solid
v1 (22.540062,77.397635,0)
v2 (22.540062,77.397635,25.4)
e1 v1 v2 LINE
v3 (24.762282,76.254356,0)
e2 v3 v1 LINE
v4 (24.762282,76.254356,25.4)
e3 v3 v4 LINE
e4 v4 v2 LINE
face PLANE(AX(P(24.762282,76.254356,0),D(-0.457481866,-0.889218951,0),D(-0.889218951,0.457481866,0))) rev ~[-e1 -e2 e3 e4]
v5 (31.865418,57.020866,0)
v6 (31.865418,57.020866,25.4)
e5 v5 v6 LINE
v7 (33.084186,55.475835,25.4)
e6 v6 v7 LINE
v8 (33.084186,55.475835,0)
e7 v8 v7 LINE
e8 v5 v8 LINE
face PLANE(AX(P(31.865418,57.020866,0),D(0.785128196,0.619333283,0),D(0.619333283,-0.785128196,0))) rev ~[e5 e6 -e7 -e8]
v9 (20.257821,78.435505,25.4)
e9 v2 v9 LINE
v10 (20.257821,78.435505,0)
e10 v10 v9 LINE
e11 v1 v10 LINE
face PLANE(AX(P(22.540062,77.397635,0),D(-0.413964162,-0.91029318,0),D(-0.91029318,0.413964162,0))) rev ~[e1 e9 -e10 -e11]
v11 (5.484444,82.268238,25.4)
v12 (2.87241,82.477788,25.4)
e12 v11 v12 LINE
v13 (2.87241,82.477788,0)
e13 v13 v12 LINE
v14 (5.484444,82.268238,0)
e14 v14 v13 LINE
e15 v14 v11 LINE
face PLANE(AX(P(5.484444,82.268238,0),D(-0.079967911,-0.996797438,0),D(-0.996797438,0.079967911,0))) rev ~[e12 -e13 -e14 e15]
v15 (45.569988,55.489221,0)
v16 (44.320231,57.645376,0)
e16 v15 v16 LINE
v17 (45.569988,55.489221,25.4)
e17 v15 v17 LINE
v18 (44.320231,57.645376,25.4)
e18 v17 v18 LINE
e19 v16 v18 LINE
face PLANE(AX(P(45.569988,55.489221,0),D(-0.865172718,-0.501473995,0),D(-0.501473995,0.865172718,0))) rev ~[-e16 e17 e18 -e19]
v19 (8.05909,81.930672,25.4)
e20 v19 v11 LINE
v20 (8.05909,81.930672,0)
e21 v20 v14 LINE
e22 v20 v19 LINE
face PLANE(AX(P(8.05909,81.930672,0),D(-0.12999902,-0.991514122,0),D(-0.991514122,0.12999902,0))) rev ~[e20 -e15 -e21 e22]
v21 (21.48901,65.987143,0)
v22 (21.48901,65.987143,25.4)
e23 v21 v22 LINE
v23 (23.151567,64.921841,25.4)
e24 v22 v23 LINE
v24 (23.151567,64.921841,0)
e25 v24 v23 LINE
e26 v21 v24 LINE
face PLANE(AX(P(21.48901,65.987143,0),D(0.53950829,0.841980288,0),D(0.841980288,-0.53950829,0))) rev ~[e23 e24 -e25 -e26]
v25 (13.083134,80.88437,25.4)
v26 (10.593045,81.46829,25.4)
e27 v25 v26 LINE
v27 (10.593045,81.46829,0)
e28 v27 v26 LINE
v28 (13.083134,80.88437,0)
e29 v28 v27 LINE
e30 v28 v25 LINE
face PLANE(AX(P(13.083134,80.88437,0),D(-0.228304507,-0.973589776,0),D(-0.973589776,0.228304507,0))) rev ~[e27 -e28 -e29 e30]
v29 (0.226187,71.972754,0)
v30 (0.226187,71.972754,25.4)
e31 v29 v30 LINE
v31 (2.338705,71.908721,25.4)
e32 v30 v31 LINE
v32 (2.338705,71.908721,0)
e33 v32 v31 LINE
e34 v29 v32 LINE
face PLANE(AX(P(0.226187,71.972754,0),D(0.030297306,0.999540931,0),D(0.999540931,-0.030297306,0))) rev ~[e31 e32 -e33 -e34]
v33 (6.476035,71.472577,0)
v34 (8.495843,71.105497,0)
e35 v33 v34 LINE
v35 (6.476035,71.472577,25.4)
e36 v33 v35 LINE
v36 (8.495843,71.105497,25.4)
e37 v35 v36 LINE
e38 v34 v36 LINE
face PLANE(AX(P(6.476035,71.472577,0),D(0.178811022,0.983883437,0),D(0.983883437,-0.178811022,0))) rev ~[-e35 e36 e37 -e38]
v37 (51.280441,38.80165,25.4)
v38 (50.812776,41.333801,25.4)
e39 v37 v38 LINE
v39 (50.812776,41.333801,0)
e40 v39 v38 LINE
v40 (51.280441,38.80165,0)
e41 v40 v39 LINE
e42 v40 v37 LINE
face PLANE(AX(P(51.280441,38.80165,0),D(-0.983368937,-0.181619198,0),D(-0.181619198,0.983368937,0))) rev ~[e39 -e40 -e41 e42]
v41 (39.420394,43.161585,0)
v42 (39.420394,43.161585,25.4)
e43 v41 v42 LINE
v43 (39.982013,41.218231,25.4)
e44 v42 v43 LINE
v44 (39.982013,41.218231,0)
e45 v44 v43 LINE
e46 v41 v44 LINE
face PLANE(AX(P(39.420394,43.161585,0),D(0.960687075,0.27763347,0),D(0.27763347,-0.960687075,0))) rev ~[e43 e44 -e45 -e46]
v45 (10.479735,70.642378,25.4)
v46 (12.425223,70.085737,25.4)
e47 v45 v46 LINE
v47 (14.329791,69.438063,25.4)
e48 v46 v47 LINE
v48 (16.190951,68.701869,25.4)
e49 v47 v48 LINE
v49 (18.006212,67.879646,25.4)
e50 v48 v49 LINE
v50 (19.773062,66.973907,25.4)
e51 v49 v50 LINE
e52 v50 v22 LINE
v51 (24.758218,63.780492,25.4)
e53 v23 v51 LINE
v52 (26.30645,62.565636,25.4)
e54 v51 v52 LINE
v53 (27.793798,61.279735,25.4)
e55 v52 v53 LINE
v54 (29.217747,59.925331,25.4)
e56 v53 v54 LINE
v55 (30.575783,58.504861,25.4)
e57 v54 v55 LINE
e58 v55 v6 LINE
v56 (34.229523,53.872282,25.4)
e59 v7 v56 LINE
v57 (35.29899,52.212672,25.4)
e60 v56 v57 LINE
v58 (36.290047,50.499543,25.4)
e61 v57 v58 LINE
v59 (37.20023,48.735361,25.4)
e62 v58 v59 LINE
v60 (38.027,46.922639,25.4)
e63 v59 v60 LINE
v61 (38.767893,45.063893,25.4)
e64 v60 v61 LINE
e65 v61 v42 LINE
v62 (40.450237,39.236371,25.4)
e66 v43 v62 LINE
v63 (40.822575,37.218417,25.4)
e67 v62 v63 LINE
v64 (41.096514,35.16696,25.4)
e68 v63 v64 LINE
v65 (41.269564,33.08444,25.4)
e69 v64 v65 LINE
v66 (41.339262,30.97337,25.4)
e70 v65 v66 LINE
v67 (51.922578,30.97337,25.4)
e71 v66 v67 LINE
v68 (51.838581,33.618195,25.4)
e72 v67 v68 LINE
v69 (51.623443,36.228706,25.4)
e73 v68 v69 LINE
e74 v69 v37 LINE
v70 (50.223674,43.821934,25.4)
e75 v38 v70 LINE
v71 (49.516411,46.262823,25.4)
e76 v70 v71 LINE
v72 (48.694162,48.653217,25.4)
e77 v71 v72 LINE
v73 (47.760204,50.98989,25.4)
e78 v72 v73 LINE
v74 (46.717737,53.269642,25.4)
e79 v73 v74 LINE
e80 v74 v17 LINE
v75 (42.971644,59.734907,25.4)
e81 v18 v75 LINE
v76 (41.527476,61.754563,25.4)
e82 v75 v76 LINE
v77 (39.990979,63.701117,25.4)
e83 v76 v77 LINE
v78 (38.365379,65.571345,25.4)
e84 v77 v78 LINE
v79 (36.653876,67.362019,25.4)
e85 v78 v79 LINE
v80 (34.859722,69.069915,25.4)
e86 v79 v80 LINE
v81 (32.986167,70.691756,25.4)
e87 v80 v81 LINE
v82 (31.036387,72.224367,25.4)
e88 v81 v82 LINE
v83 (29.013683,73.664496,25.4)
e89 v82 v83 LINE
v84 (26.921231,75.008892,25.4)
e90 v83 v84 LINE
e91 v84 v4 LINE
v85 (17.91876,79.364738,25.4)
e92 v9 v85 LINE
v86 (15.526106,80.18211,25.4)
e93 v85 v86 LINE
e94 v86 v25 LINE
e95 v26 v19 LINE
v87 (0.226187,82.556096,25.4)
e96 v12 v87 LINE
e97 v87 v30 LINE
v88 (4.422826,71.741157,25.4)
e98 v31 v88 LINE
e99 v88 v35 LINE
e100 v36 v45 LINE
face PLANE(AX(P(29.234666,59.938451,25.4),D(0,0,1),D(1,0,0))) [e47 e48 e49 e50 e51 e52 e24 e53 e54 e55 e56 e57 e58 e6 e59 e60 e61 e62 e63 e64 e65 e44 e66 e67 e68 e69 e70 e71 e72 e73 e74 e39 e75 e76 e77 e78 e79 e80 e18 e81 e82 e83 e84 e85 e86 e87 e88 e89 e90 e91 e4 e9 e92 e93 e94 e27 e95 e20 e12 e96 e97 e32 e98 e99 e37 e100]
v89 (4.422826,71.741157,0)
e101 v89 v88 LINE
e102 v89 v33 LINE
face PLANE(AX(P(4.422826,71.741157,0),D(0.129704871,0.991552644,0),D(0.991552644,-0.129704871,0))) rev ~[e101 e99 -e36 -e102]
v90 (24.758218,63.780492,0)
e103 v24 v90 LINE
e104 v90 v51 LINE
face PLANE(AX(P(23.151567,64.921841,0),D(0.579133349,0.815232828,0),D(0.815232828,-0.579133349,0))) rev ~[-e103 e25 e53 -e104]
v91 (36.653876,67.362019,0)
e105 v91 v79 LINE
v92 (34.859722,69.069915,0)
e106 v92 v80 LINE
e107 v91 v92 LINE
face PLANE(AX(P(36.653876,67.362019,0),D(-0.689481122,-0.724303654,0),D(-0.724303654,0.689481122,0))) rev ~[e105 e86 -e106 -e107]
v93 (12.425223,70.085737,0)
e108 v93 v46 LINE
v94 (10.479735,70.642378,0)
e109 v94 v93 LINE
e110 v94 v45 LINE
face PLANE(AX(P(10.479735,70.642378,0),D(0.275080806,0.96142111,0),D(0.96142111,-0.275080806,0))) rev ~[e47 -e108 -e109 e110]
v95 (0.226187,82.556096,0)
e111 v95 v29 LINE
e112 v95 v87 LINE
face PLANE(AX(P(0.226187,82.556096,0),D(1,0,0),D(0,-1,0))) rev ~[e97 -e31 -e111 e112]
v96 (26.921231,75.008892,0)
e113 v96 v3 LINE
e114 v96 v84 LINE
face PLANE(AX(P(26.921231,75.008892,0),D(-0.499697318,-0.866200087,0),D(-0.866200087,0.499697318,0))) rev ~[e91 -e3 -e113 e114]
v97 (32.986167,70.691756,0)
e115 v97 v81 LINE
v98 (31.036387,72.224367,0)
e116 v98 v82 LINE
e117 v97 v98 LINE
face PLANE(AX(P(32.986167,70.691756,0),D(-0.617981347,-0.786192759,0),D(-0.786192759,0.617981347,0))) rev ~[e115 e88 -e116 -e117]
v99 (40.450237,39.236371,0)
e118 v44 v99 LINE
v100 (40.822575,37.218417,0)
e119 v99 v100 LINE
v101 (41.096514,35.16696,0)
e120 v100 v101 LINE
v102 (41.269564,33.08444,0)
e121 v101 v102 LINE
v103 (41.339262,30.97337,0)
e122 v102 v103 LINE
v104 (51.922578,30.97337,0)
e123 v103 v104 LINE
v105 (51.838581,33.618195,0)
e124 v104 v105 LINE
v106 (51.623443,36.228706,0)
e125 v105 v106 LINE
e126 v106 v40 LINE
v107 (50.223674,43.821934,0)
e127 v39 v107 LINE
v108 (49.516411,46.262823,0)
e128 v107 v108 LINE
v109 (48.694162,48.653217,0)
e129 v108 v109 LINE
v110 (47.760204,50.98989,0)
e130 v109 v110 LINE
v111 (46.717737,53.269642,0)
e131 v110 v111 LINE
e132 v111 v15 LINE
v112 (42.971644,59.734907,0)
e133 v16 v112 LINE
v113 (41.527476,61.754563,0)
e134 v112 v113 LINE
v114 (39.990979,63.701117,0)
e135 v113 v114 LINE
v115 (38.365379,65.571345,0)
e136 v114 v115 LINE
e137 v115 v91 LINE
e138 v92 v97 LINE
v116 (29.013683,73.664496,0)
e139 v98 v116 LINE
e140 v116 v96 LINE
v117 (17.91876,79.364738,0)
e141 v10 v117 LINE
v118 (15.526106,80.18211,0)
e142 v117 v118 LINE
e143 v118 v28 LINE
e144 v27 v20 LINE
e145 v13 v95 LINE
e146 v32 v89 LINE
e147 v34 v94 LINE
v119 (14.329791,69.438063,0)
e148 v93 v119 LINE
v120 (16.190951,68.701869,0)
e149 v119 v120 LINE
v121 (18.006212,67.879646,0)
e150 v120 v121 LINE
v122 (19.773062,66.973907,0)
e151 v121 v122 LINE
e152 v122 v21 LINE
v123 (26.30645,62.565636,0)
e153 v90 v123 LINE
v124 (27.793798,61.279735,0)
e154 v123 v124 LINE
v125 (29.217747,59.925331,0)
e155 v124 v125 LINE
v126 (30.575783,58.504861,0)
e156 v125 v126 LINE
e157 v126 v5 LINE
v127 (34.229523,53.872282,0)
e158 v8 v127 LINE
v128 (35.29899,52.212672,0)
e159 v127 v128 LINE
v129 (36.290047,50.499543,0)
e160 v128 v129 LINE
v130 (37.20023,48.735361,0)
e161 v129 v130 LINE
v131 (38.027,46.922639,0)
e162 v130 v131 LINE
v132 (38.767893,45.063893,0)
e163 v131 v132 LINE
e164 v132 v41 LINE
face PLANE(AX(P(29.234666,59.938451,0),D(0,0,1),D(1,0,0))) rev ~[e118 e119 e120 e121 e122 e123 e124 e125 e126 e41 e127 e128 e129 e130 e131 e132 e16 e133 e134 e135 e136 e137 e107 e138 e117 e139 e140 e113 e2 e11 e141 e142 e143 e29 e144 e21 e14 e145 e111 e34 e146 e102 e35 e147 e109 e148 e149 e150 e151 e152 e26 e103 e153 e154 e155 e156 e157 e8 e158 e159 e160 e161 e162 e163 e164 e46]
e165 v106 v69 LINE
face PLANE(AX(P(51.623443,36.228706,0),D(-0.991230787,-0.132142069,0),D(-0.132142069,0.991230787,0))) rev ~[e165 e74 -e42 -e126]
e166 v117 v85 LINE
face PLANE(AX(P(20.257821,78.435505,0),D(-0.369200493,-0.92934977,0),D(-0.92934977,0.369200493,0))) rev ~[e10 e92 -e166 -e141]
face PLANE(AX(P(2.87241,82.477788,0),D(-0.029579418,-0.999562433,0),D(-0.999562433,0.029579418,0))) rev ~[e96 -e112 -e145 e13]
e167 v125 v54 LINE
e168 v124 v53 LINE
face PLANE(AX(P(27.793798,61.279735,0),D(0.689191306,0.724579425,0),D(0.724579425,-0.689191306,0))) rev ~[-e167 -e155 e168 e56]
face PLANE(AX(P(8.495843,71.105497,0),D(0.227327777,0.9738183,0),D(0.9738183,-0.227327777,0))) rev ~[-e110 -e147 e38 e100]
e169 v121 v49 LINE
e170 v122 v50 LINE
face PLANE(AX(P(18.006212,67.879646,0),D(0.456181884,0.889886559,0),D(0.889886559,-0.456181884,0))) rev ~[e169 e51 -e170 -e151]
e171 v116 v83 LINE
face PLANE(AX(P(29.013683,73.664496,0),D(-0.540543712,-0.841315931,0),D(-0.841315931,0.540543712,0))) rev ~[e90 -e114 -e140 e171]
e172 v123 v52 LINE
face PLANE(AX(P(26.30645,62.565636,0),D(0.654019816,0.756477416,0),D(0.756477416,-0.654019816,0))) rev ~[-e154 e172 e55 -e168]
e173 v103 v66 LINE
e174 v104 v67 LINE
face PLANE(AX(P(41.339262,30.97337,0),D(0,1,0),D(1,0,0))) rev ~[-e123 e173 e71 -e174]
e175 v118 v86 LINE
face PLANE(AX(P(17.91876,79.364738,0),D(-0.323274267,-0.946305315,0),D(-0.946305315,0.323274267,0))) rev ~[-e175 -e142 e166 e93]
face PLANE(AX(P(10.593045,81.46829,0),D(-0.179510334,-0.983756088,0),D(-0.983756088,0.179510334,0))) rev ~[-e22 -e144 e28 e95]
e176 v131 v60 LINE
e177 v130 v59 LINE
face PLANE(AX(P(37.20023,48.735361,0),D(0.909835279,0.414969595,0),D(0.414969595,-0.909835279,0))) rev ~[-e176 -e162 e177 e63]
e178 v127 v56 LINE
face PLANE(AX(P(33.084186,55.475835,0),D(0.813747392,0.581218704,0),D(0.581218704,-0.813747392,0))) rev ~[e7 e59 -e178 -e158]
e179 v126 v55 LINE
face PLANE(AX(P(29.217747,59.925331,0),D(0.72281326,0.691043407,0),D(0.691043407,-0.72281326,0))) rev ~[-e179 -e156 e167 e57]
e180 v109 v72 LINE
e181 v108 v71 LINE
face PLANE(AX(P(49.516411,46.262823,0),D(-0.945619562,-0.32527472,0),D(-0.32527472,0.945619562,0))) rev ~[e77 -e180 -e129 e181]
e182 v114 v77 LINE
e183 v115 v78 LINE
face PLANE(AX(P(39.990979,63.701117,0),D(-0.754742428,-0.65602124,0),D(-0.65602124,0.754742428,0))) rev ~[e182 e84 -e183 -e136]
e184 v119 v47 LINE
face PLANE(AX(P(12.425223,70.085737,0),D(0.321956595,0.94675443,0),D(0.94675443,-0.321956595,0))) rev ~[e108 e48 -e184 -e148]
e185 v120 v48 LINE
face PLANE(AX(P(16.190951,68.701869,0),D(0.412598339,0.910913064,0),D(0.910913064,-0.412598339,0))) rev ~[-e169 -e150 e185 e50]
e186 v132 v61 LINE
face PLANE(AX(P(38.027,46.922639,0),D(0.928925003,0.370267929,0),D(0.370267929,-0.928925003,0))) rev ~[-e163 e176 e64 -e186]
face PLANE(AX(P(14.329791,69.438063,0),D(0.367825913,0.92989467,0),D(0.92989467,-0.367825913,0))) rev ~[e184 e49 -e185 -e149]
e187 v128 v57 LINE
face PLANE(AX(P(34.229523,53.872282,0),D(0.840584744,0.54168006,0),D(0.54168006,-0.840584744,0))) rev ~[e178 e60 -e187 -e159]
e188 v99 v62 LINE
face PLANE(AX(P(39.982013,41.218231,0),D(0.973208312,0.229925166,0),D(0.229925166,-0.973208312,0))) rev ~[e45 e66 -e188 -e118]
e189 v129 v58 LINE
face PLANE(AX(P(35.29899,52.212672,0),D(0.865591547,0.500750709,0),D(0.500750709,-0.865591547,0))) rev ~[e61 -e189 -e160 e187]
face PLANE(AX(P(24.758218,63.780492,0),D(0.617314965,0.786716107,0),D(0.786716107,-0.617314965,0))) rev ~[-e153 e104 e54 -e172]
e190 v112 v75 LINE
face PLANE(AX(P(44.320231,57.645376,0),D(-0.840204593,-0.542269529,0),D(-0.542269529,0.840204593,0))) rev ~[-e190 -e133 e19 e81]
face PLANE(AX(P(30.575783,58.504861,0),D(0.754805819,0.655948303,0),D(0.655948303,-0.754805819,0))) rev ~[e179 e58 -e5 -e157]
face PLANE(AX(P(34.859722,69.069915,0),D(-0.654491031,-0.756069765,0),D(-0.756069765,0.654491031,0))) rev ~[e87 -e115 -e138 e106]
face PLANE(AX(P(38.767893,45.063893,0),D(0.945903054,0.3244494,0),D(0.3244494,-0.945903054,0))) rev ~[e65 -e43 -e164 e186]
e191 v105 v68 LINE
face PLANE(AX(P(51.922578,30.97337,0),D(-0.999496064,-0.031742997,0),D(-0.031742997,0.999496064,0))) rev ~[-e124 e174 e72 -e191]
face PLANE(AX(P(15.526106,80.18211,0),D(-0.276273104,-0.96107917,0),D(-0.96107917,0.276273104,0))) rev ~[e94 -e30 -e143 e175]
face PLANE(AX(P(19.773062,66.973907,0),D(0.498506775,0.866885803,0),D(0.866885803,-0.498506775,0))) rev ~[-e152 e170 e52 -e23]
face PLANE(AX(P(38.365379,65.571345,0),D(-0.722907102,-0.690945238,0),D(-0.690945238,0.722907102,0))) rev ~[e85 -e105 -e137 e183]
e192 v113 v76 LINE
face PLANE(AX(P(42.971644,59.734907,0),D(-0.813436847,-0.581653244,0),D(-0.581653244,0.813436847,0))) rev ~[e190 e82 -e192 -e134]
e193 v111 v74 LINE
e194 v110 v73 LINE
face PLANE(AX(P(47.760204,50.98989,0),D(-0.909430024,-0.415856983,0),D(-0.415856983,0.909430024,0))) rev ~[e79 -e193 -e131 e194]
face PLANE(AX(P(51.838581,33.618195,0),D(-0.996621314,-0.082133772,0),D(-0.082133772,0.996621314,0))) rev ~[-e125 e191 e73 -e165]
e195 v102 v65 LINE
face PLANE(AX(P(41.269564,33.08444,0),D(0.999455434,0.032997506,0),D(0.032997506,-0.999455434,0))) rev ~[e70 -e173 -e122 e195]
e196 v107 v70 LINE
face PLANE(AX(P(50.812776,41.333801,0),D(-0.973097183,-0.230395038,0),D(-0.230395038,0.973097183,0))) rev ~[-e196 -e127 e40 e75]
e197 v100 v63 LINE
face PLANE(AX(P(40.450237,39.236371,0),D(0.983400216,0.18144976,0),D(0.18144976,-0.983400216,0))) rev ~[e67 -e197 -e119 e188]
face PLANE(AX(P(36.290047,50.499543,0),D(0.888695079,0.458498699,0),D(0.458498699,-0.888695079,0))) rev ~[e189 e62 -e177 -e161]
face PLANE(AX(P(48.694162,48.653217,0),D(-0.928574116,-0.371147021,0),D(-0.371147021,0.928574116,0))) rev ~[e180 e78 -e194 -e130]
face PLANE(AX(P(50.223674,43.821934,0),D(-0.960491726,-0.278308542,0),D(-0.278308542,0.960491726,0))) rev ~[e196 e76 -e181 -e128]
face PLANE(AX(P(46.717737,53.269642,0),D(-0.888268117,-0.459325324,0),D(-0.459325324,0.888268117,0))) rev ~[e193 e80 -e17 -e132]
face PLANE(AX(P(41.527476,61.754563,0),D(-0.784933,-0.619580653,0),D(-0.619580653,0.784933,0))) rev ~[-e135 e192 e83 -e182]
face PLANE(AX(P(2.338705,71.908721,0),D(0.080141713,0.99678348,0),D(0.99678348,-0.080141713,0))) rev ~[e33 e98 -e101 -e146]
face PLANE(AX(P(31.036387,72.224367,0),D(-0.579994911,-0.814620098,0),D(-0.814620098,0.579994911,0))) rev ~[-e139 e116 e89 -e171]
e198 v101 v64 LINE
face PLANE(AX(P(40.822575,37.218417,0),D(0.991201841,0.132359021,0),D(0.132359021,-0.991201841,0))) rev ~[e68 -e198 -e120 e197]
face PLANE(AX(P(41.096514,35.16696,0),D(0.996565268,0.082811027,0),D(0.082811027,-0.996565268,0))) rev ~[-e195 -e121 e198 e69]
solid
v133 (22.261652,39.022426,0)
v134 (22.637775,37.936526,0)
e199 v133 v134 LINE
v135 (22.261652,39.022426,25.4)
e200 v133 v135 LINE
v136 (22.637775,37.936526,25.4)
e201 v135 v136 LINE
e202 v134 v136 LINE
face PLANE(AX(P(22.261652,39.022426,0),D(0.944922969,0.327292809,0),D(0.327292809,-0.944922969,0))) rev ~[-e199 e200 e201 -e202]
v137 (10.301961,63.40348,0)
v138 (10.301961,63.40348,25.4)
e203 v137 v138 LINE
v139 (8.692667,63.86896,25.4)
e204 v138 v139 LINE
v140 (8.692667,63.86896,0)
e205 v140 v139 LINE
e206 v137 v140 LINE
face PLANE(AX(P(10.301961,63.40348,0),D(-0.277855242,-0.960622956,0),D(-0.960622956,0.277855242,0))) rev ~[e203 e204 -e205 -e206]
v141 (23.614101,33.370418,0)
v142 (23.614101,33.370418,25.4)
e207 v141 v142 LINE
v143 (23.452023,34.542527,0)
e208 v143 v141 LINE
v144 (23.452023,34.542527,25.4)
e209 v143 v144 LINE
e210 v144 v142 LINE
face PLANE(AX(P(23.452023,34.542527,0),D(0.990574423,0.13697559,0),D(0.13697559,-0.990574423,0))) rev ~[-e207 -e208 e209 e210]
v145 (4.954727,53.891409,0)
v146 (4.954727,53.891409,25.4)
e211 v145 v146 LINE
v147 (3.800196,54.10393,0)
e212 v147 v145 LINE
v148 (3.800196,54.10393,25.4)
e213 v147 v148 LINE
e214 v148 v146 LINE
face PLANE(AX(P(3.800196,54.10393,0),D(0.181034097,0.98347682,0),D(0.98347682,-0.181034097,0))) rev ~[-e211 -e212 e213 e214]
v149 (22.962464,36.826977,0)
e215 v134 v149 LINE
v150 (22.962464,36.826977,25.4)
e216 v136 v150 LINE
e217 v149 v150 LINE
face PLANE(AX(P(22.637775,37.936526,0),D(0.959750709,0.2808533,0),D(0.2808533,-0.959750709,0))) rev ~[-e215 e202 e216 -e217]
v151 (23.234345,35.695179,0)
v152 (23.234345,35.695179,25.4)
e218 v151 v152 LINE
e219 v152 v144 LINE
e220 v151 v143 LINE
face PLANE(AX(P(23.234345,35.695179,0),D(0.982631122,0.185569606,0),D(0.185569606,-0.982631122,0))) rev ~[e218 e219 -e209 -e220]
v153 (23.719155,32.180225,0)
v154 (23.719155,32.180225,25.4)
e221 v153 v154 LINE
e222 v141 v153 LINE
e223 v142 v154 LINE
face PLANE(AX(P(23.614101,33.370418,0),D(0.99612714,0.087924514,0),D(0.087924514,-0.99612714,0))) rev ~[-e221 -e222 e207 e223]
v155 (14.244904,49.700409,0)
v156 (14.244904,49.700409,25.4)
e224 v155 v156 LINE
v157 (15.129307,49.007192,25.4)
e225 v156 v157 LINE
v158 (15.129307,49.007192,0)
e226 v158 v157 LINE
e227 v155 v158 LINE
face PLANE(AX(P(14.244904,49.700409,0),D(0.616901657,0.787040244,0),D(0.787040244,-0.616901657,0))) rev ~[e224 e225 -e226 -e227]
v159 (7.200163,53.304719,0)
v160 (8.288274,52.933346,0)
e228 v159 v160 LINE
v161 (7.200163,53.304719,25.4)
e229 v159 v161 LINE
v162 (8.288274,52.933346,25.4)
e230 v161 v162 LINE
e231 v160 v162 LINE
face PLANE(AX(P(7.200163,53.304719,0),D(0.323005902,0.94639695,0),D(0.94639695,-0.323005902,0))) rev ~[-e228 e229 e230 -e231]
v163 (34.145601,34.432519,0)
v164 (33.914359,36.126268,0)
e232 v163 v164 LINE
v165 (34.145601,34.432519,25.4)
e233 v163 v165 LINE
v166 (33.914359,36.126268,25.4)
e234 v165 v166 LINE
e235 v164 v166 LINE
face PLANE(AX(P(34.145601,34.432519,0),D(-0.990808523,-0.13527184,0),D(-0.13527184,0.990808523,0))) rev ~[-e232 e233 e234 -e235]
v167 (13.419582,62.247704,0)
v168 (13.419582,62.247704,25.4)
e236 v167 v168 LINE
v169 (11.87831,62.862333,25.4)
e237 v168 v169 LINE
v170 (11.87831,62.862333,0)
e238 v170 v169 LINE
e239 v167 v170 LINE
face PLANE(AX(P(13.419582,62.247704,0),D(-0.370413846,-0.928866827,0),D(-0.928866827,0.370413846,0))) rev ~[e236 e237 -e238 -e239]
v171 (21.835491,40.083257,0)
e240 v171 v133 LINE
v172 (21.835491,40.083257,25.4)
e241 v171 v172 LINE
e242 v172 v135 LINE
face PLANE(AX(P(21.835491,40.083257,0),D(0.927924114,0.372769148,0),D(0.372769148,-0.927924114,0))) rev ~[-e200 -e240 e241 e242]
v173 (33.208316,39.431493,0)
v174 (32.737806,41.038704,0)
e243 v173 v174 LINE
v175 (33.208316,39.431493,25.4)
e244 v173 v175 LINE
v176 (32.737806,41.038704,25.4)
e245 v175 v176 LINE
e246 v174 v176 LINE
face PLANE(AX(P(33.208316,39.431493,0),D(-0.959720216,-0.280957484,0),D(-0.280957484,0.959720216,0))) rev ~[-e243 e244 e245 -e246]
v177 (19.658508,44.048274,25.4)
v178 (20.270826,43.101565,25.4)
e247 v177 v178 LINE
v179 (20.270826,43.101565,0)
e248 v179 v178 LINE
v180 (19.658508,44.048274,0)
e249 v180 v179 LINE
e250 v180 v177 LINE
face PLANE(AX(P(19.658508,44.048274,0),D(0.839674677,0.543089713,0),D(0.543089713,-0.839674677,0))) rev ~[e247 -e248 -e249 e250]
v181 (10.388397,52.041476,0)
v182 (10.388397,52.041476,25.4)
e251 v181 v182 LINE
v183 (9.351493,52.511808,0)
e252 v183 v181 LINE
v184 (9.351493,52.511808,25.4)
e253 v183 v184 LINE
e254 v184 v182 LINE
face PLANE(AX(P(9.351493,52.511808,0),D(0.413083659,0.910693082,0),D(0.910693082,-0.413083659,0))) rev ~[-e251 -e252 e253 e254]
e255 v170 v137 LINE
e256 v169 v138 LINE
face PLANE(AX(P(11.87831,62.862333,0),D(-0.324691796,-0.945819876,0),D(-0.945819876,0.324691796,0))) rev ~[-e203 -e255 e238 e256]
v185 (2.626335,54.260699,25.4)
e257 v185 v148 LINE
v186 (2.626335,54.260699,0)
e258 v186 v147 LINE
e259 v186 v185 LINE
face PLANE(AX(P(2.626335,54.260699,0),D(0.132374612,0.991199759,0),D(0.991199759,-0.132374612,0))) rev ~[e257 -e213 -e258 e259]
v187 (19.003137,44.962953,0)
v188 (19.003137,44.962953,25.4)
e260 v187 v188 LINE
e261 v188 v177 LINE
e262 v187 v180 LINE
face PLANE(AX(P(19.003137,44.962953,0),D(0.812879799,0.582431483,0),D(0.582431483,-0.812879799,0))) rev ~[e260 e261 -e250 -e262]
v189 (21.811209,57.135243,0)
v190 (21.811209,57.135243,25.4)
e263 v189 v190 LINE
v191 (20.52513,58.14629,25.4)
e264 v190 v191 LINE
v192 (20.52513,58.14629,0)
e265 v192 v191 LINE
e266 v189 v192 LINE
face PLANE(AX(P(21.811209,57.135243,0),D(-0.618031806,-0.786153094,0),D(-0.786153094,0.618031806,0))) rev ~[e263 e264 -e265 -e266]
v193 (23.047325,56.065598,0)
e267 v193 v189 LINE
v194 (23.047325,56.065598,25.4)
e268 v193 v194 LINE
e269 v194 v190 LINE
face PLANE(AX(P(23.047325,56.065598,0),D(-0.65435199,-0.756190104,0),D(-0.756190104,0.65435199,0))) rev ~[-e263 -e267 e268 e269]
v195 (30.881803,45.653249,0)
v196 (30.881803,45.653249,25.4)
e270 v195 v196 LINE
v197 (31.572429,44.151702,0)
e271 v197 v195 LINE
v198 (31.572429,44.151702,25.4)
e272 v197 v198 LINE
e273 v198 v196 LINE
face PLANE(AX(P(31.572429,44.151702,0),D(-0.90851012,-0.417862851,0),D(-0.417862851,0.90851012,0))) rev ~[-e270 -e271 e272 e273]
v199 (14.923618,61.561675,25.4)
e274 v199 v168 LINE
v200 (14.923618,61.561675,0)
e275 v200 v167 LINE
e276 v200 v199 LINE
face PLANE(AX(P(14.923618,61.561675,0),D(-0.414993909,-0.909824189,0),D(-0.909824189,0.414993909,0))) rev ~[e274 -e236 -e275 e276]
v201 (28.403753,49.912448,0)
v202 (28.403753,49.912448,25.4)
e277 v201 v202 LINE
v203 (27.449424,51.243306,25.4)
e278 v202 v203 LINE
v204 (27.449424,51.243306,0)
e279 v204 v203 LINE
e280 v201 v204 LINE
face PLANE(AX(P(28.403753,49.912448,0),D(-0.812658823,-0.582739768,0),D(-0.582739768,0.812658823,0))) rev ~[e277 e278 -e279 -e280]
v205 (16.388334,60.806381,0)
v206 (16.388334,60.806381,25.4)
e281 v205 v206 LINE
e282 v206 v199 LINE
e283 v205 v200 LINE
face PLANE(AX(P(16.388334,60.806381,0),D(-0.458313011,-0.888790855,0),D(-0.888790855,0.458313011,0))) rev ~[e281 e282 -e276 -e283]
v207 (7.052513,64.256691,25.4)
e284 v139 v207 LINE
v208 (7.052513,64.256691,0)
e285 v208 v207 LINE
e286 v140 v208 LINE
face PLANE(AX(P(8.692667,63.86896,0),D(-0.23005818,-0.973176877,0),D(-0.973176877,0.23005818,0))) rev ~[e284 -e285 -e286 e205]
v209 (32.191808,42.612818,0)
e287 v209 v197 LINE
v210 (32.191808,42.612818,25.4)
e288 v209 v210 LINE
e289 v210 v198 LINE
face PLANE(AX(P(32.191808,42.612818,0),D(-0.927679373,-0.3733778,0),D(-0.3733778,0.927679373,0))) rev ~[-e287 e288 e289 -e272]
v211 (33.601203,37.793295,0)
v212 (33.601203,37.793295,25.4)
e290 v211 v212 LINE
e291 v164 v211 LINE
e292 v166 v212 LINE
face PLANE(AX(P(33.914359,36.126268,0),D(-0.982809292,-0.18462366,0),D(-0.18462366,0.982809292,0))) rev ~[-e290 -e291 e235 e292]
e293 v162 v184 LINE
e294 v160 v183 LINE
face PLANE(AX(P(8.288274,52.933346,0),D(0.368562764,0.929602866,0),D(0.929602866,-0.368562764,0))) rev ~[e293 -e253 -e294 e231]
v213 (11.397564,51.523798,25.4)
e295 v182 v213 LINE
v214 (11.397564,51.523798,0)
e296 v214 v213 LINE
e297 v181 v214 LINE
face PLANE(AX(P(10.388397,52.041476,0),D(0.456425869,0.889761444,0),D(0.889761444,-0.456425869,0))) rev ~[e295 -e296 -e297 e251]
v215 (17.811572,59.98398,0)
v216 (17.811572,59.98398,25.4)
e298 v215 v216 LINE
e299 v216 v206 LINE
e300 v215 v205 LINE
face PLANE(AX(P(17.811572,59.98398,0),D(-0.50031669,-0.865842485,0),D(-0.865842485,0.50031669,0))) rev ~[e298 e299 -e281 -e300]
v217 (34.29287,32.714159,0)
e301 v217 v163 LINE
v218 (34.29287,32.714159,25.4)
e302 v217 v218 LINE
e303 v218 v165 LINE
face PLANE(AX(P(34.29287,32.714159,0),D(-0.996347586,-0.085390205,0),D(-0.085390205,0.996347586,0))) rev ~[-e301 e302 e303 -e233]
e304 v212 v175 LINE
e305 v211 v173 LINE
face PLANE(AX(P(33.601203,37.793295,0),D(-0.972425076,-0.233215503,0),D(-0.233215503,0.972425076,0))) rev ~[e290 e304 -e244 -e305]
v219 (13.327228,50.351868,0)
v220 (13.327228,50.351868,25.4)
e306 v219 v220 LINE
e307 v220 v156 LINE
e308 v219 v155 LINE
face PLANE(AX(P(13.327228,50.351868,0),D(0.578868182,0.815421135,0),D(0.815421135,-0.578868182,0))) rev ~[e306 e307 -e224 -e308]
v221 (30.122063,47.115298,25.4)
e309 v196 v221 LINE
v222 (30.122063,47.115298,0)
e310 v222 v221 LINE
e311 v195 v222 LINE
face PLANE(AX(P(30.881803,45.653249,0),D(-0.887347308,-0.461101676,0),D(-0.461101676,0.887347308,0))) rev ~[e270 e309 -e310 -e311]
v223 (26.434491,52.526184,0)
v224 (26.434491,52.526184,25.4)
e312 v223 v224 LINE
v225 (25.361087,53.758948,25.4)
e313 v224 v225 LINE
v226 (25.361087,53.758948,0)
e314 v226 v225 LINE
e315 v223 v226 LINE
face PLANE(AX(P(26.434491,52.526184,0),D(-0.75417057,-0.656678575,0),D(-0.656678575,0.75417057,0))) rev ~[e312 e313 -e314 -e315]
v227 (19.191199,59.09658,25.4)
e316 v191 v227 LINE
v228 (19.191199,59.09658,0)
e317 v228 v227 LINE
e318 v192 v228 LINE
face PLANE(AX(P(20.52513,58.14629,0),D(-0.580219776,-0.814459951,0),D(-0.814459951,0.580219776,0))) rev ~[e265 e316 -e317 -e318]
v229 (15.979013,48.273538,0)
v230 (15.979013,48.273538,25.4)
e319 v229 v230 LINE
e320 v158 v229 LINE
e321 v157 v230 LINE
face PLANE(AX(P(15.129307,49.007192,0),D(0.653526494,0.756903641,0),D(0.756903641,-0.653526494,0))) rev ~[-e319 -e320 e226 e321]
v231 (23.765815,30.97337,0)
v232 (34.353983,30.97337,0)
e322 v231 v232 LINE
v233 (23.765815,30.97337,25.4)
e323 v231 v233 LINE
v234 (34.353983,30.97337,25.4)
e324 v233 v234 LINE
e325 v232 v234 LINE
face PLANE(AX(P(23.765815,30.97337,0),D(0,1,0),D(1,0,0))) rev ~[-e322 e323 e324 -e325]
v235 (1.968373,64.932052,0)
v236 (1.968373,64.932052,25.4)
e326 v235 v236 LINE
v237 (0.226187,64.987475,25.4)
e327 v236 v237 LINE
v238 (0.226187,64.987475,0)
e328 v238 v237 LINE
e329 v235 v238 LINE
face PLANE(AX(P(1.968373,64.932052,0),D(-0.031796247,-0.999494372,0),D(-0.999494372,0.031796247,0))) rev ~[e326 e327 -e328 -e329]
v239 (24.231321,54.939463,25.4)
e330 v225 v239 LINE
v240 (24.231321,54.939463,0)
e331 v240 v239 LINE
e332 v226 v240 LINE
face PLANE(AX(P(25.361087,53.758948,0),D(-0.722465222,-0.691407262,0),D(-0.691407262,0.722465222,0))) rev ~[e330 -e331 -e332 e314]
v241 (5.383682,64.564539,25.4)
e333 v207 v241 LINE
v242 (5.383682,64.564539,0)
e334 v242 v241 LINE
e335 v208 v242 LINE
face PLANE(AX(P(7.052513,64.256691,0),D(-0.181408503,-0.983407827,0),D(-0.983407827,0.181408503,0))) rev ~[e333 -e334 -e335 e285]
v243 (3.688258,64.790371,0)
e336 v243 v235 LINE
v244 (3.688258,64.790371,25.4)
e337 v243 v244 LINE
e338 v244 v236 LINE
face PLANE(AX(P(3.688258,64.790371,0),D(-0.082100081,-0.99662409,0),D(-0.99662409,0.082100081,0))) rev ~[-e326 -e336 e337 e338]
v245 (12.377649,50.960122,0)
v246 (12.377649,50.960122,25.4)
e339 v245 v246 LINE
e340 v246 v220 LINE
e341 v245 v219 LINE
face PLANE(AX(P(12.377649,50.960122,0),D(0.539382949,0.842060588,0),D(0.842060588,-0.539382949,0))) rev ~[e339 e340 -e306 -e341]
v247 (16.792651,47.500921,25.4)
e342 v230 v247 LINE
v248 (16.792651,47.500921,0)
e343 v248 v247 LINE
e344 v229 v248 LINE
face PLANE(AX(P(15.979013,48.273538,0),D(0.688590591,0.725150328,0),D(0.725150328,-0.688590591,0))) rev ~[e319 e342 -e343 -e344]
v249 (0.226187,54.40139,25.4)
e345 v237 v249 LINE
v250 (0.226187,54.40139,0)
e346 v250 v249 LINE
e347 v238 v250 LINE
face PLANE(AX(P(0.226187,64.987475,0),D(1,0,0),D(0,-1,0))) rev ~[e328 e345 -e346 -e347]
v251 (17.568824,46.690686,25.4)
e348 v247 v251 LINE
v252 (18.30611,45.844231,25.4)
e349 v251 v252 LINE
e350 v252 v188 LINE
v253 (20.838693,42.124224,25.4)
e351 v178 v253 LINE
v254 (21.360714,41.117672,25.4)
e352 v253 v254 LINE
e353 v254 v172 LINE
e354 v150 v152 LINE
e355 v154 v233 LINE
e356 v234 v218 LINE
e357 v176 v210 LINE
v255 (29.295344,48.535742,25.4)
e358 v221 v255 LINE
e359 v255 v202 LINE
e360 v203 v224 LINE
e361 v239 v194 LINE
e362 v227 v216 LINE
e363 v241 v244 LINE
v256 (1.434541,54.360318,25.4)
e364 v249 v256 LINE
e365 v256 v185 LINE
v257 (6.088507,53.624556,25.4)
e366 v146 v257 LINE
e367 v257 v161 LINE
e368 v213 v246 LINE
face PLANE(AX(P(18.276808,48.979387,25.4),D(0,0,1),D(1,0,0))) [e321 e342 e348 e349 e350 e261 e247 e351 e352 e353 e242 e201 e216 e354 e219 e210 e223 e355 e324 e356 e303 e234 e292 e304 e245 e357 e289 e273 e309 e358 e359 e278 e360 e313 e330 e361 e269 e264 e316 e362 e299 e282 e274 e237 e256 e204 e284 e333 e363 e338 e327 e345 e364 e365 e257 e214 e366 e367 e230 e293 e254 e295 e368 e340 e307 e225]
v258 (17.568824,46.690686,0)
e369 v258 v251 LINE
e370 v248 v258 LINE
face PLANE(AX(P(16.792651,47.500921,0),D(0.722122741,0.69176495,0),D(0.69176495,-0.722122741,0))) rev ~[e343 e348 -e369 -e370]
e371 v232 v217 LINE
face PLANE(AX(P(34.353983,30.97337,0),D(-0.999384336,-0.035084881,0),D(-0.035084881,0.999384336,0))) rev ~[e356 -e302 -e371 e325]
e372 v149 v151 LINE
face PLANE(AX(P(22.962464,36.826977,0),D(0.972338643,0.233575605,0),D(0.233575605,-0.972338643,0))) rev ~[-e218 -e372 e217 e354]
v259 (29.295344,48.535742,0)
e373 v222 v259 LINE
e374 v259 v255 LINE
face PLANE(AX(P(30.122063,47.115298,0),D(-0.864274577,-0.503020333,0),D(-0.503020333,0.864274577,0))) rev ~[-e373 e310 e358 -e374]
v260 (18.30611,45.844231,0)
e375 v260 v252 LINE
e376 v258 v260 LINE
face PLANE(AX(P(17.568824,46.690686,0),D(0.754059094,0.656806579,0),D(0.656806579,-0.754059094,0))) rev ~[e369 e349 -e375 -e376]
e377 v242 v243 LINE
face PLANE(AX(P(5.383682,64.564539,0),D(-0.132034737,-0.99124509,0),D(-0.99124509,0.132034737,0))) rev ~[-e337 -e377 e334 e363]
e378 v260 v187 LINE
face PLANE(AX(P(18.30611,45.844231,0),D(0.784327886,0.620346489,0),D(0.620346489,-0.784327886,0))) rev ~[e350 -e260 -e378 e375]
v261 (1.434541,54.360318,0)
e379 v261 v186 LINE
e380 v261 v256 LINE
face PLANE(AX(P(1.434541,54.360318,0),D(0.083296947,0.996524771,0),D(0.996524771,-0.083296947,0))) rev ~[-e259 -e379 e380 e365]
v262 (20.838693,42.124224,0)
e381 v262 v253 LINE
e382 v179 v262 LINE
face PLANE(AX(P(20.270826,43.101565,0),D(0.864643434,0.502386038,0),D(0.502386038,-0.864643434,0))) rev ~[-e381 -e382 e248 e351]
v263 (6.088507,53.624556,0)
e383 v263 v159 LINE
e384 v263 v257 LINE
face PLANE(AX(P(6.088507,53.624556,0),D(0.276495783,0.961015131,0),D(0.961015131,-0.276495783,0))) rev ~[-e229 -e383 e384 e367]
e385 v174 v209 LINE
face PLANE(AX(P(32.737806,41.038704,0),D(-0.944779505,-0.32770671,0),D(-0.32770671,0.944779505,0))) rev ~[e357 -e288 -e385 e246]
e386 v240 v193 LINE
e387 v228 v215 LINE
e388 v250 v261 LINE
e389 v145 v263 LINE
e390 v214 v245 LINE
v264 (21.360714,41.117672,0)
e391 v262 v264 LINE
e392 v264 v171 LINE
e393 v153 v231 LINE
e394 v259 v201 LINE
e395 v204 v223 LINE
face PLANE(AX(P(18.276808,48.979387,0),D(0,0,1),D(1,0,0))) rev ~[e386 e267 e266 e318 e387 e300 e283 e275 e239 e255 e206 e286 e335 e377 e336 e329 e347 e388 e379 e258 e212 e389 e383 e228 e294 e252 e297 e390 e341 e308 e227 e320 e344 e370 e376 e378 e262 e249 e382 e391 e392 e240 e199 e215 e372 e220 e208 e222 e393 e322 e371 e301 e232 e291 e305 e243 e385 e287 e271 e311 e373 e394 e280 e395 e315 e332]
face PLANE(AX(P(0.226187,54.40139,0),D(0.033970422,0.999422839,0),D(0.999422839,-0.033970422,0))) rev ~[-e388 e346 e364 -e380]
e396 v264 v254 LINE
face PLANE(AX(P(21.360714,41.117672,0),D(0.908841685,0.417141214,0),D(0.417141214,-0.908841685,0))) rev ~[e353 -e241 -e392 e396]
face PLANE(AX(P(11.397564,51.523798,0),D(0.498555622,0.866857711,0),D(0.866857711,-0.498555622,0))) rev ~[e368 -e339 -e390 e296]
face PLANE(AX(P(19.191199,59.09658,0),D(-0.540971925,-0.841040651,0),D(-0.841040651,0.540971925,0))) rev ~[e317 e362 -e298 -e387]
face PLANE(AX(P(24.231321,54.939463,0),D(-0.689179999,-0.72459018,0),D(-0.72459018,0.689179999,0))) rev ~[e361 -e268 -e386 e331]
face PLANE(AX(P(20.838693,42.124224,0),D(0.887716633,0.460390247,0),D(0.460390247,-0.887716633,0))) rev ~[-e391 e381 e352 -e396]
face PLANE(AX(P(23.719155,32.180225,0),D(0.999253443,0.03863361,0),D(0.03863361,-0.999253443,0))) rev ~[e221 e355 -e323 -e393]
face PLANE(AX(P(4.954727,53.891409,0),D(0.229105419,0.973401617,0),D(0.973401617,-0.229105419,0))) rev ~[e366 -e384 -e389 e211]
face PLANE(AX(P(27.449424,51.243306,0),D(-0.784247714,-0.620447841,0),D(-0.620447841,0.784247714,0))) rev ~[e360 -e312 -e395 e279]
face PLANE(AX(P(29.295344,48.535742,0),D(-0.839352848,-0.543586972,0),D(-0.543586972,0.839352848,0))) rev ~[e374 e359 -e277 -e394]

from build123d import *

# Parameters (mm, degrees)
F1_DEPTH = 25.4


with BuildPart() as f1:
    # F0 (on Top) → F1 (new body)
    with BuildSketch(Plane.XY):
        Polygon((1.968373, 64.932052), (0.226187, 64.987475), (0.226187, 64.656665), (0.226187, 64.325856), (0.226187, 63.995046), (0.226187, 63.664211), (0.226187, 63.333401), (0.226187, 63.002592), (0.226187, 62.671782), (0.226187, 62.340947), (0.226187, 62.010138), (0.226187, 61.679328), (0.226187, 61.348518), (0.226187, 61.017709), (0.226187, 60.686874), (0.226187, 60.356064), (0.226187, 60.025255), (0.226187, 59.694445), (0.226187, 59.36361), (0.226187, 59.0328), (0.226187, 58.701991), (0.226187, 58.371181), (0.226187, 58.040346), (0.226187, 57.709537), (0.226187, 57.378727), (0.226187, 57.047917), (0.226187, 56.717108), (0.226187, 56.386273), (0.226187, 56.055463), (0.226187, 55.724654), (0.226187, 55.393844), (0.226187, 55.063009), (0.226187, 54.732199), (0.226187, 54.40139), (1.434541, 54.360318), (2.626335, 54.260699), (3.800196, 54.10393), (4.954727, 53.891409), (6.088507, 53.624556), (7.200163, 53.304719), (8.288274, 52.933346), (9.351493, 52.511808), (10.388397, 52.041476), (11.397564, 51.523798), (12.377649, 50.960122), (13.327228, 50.351868), (14.244904, 49.700409), (15.129307, 49.007192), (15.979013, 48.273538), (16.792651, 47.500921), (17.568824, 46.690686), (18.30611, 45.844231), (19.003137, 44.962953), (19.658508, 44.048274), (20.270826, 43.101565), (20.838693, 42.124224), (21.360714, 41.117672), (21.835491, 40.083257), (22.261652, 39.022426), (22.637775, 37.936526), (22.962464, 36.826977), (23.234345, 35.695179), (23.452023, 34.542527), (23.614101, 33.370418), (23.719155, 32.180225), (23.765815, 30.97337), (24.096701, 30.97337), (24.427586, 30.97337), (24.758472, 30.97337), (25.089333, 30.97337), (25.420218, 30.97337), (25.751104, 30.97337), (26.08199, 30.97337), (26.41285, 30.97337), (26.743736, 30.97337), (27.074622, 30.97337), (27.405508, 30.97337), (27.736394, 30.97337), (28.067254, 30.97337), (28.39814, 30.97337), (28.729026, 30.97337), (29.059911, 30.97337), (29.390772, 30.97337), (29.721658, 30.97337), (30.052543, 30.97337), (30.383429, 30.97337), (30.71429, 30.97337), (31.045175, 30.97337), (31.376061, 30.97337), (31.706947, 30.97337), (32.037833, 30.97337), (32.368693, 30.97337), (32.699579, 30.97337), (33.030465, 30.97337), (33.361351, 30.97337), (33.692211, 30.97337), (34.023097, 30.97337), (34.353983, 30.97337), (34.29287, 32.714159), (34.145601, 34.432519), (33.914359, 36.126268), (33.601203, 37.793295), (33.208316, 39.431493), (32.737806, 41.038704), (32.191808, 42.612818), (31.572429, 44.151702), (30.881803, 45.653249), (30.122063, 47.115298), (29.295344, 48.535742), (28.403753, 49.912448), (27.449424, 51.243306), (26.434491, 52.526184), (25.361087, 53.758948), (24.231321, 54.939463), (23.047325, 56.065598), (21.811209, 57.135243), (20.52513, 58.14629), (19.191199, 59.09658), (17.811572, 59.98398), (16.388334, 60.806381), (14.923618, 61.561675), (13.419582, 62.247704), (11.87831, 62.862333), (10.301961, 63.40348), (8.692667, 63.86896), (7.052513, 64.256691), (5.383682, 64.564539), (3.688258, 64.790371), align=None)
        Polygon((2.87241, 82.477788), (0.226187, 82.556096), (0.226187, 82.225363), (0.226187, 81.894629), (0.226187, 81.563896), (0.226187, 81.233162), (0.226187, 80.902454), (0.226187, 80.571721), (0.226187, 80.240988), (0.226187, 79.910254), (0.226187, 79.579521), (0.226187, 79.248787), (0.226187, 78.918079), (0.226187, 78.587346), (0.226187, 78.256613), (0.226187, 77.925879), (0.226187, 77.595146), (0.226187, 77.264412), (0.226187, 76.933704), (0.226187, 76.602971), (0.226187, 76.272238), (0.226187, 75.941504), (0.226187, 75.610771), (0.226187, 75.280037), (0.226187, 74.949329), (0.226187, 74.618596), (0.226187, 74.287863), (0.226187, 73.957129), (0.226187, 73.626396), (0.226187, 73.295662), (0.226187, 72.964954), (0.226187, 72.634221), (0.226187, 72.303488), (0.226187, 71.972754), (2.338705, 71.908721), (4.422826, 71.741157), (6.476035, 71.472577), (8.495843, 71.105497), (10.479735, 70.642378), (12.425223, 70.085737), (14.329791, 69.438063), (16.190951, 68.701869), (18.006212, 67.879646), (19.773062, 66.973907), (21.48901, 65.987143), (23.151567, 64.921841), (24.758218, 63.780492), (26.30645, 62.565636), (27.793798, 61.279735), (29.217747, 59.925331), (30.575783, 58.504861), (31.865418, 57.020866), (33.084186, 55.475835), (34.229523, 53.872282), (35.29899, 52.212672), (36.290047, 50.499543), (37.20023, 48.735361), (38.027, 46.922639), (38.767893, 45.063893), (39.420394, 43.161585), (39.982013, 41.218231), (40.450237, 39.236371), (40.822575, 37.218417), (41.096514, 35.16696), (41.269564, 33.08444), (41.339262, 30.97337), (41.669995, 30.97337), (42.000703, 30.97337), (42.331437, 30.97337), (42.66217, 30.97337), (42.992904, 30.97337), (43.323637, 30.97337), (43.65437, 30.97337), (43.985078, 30.97337), (44.315812, 30.97337), (44.646545, 30.97337), (44.977279, 30.97337), (45.308012, 30.97337), (45.638745, 30.97337), (45.969453, 30.97337), (46.300187, 30.97337), (46.63092, 30.97337), (46.961654, 30.97337), (47.292387, 30.97337), (47.62312, 30.97337), (47.953828, 30.97337), (48.284562, 30.97337), (48.615295, 30.97337), (48.946029, 30.97337), (49.276762, 30.97337), (49.607495, 30.97337), (49.938203, 30.97337), (50.268937, 30.97337), (50.59967, 30.97337), (50.930404, 30.97337), (51.261137, 30.97337), (51.59187, 30.97337), (51.922578, 30.97337), (51.838581, 33.618195), (51.623443, 36.228706), (51.280441, 38.80165), (50.812776, 41.333801), (50.223674, 43.821934), (49.516411, 46.262823), (48.694162, 48.653217), (47.760204, 50.98989), (46.717737, 53.269642), (45.569988, 55.489221), (44.320231, 57.645376), (42.971644, 59.734907), (41.527476, 61.754563), (39.990979, 63.701117), (38.365379, 65.571345), (36.653876, 67.362019), (34.859722, 69.069915), (32.986167, 70.691756), (31.036387, 72.224367), (29.013683, 73.664496), (26.921231, 75.008892), (24.762282, 76.254356), (22.540062, 77.397635), (20.257821, 78.435505), (17.91876, 79.364738), (15.526106, 80.18211), (13.083134, 80.88437), (10.593045, 81.46829), (8.05909, 81.930672), (5.484444, 82.268238), align=None)
    extrude(amount=F1_DEPTH)


solid = f1.part
